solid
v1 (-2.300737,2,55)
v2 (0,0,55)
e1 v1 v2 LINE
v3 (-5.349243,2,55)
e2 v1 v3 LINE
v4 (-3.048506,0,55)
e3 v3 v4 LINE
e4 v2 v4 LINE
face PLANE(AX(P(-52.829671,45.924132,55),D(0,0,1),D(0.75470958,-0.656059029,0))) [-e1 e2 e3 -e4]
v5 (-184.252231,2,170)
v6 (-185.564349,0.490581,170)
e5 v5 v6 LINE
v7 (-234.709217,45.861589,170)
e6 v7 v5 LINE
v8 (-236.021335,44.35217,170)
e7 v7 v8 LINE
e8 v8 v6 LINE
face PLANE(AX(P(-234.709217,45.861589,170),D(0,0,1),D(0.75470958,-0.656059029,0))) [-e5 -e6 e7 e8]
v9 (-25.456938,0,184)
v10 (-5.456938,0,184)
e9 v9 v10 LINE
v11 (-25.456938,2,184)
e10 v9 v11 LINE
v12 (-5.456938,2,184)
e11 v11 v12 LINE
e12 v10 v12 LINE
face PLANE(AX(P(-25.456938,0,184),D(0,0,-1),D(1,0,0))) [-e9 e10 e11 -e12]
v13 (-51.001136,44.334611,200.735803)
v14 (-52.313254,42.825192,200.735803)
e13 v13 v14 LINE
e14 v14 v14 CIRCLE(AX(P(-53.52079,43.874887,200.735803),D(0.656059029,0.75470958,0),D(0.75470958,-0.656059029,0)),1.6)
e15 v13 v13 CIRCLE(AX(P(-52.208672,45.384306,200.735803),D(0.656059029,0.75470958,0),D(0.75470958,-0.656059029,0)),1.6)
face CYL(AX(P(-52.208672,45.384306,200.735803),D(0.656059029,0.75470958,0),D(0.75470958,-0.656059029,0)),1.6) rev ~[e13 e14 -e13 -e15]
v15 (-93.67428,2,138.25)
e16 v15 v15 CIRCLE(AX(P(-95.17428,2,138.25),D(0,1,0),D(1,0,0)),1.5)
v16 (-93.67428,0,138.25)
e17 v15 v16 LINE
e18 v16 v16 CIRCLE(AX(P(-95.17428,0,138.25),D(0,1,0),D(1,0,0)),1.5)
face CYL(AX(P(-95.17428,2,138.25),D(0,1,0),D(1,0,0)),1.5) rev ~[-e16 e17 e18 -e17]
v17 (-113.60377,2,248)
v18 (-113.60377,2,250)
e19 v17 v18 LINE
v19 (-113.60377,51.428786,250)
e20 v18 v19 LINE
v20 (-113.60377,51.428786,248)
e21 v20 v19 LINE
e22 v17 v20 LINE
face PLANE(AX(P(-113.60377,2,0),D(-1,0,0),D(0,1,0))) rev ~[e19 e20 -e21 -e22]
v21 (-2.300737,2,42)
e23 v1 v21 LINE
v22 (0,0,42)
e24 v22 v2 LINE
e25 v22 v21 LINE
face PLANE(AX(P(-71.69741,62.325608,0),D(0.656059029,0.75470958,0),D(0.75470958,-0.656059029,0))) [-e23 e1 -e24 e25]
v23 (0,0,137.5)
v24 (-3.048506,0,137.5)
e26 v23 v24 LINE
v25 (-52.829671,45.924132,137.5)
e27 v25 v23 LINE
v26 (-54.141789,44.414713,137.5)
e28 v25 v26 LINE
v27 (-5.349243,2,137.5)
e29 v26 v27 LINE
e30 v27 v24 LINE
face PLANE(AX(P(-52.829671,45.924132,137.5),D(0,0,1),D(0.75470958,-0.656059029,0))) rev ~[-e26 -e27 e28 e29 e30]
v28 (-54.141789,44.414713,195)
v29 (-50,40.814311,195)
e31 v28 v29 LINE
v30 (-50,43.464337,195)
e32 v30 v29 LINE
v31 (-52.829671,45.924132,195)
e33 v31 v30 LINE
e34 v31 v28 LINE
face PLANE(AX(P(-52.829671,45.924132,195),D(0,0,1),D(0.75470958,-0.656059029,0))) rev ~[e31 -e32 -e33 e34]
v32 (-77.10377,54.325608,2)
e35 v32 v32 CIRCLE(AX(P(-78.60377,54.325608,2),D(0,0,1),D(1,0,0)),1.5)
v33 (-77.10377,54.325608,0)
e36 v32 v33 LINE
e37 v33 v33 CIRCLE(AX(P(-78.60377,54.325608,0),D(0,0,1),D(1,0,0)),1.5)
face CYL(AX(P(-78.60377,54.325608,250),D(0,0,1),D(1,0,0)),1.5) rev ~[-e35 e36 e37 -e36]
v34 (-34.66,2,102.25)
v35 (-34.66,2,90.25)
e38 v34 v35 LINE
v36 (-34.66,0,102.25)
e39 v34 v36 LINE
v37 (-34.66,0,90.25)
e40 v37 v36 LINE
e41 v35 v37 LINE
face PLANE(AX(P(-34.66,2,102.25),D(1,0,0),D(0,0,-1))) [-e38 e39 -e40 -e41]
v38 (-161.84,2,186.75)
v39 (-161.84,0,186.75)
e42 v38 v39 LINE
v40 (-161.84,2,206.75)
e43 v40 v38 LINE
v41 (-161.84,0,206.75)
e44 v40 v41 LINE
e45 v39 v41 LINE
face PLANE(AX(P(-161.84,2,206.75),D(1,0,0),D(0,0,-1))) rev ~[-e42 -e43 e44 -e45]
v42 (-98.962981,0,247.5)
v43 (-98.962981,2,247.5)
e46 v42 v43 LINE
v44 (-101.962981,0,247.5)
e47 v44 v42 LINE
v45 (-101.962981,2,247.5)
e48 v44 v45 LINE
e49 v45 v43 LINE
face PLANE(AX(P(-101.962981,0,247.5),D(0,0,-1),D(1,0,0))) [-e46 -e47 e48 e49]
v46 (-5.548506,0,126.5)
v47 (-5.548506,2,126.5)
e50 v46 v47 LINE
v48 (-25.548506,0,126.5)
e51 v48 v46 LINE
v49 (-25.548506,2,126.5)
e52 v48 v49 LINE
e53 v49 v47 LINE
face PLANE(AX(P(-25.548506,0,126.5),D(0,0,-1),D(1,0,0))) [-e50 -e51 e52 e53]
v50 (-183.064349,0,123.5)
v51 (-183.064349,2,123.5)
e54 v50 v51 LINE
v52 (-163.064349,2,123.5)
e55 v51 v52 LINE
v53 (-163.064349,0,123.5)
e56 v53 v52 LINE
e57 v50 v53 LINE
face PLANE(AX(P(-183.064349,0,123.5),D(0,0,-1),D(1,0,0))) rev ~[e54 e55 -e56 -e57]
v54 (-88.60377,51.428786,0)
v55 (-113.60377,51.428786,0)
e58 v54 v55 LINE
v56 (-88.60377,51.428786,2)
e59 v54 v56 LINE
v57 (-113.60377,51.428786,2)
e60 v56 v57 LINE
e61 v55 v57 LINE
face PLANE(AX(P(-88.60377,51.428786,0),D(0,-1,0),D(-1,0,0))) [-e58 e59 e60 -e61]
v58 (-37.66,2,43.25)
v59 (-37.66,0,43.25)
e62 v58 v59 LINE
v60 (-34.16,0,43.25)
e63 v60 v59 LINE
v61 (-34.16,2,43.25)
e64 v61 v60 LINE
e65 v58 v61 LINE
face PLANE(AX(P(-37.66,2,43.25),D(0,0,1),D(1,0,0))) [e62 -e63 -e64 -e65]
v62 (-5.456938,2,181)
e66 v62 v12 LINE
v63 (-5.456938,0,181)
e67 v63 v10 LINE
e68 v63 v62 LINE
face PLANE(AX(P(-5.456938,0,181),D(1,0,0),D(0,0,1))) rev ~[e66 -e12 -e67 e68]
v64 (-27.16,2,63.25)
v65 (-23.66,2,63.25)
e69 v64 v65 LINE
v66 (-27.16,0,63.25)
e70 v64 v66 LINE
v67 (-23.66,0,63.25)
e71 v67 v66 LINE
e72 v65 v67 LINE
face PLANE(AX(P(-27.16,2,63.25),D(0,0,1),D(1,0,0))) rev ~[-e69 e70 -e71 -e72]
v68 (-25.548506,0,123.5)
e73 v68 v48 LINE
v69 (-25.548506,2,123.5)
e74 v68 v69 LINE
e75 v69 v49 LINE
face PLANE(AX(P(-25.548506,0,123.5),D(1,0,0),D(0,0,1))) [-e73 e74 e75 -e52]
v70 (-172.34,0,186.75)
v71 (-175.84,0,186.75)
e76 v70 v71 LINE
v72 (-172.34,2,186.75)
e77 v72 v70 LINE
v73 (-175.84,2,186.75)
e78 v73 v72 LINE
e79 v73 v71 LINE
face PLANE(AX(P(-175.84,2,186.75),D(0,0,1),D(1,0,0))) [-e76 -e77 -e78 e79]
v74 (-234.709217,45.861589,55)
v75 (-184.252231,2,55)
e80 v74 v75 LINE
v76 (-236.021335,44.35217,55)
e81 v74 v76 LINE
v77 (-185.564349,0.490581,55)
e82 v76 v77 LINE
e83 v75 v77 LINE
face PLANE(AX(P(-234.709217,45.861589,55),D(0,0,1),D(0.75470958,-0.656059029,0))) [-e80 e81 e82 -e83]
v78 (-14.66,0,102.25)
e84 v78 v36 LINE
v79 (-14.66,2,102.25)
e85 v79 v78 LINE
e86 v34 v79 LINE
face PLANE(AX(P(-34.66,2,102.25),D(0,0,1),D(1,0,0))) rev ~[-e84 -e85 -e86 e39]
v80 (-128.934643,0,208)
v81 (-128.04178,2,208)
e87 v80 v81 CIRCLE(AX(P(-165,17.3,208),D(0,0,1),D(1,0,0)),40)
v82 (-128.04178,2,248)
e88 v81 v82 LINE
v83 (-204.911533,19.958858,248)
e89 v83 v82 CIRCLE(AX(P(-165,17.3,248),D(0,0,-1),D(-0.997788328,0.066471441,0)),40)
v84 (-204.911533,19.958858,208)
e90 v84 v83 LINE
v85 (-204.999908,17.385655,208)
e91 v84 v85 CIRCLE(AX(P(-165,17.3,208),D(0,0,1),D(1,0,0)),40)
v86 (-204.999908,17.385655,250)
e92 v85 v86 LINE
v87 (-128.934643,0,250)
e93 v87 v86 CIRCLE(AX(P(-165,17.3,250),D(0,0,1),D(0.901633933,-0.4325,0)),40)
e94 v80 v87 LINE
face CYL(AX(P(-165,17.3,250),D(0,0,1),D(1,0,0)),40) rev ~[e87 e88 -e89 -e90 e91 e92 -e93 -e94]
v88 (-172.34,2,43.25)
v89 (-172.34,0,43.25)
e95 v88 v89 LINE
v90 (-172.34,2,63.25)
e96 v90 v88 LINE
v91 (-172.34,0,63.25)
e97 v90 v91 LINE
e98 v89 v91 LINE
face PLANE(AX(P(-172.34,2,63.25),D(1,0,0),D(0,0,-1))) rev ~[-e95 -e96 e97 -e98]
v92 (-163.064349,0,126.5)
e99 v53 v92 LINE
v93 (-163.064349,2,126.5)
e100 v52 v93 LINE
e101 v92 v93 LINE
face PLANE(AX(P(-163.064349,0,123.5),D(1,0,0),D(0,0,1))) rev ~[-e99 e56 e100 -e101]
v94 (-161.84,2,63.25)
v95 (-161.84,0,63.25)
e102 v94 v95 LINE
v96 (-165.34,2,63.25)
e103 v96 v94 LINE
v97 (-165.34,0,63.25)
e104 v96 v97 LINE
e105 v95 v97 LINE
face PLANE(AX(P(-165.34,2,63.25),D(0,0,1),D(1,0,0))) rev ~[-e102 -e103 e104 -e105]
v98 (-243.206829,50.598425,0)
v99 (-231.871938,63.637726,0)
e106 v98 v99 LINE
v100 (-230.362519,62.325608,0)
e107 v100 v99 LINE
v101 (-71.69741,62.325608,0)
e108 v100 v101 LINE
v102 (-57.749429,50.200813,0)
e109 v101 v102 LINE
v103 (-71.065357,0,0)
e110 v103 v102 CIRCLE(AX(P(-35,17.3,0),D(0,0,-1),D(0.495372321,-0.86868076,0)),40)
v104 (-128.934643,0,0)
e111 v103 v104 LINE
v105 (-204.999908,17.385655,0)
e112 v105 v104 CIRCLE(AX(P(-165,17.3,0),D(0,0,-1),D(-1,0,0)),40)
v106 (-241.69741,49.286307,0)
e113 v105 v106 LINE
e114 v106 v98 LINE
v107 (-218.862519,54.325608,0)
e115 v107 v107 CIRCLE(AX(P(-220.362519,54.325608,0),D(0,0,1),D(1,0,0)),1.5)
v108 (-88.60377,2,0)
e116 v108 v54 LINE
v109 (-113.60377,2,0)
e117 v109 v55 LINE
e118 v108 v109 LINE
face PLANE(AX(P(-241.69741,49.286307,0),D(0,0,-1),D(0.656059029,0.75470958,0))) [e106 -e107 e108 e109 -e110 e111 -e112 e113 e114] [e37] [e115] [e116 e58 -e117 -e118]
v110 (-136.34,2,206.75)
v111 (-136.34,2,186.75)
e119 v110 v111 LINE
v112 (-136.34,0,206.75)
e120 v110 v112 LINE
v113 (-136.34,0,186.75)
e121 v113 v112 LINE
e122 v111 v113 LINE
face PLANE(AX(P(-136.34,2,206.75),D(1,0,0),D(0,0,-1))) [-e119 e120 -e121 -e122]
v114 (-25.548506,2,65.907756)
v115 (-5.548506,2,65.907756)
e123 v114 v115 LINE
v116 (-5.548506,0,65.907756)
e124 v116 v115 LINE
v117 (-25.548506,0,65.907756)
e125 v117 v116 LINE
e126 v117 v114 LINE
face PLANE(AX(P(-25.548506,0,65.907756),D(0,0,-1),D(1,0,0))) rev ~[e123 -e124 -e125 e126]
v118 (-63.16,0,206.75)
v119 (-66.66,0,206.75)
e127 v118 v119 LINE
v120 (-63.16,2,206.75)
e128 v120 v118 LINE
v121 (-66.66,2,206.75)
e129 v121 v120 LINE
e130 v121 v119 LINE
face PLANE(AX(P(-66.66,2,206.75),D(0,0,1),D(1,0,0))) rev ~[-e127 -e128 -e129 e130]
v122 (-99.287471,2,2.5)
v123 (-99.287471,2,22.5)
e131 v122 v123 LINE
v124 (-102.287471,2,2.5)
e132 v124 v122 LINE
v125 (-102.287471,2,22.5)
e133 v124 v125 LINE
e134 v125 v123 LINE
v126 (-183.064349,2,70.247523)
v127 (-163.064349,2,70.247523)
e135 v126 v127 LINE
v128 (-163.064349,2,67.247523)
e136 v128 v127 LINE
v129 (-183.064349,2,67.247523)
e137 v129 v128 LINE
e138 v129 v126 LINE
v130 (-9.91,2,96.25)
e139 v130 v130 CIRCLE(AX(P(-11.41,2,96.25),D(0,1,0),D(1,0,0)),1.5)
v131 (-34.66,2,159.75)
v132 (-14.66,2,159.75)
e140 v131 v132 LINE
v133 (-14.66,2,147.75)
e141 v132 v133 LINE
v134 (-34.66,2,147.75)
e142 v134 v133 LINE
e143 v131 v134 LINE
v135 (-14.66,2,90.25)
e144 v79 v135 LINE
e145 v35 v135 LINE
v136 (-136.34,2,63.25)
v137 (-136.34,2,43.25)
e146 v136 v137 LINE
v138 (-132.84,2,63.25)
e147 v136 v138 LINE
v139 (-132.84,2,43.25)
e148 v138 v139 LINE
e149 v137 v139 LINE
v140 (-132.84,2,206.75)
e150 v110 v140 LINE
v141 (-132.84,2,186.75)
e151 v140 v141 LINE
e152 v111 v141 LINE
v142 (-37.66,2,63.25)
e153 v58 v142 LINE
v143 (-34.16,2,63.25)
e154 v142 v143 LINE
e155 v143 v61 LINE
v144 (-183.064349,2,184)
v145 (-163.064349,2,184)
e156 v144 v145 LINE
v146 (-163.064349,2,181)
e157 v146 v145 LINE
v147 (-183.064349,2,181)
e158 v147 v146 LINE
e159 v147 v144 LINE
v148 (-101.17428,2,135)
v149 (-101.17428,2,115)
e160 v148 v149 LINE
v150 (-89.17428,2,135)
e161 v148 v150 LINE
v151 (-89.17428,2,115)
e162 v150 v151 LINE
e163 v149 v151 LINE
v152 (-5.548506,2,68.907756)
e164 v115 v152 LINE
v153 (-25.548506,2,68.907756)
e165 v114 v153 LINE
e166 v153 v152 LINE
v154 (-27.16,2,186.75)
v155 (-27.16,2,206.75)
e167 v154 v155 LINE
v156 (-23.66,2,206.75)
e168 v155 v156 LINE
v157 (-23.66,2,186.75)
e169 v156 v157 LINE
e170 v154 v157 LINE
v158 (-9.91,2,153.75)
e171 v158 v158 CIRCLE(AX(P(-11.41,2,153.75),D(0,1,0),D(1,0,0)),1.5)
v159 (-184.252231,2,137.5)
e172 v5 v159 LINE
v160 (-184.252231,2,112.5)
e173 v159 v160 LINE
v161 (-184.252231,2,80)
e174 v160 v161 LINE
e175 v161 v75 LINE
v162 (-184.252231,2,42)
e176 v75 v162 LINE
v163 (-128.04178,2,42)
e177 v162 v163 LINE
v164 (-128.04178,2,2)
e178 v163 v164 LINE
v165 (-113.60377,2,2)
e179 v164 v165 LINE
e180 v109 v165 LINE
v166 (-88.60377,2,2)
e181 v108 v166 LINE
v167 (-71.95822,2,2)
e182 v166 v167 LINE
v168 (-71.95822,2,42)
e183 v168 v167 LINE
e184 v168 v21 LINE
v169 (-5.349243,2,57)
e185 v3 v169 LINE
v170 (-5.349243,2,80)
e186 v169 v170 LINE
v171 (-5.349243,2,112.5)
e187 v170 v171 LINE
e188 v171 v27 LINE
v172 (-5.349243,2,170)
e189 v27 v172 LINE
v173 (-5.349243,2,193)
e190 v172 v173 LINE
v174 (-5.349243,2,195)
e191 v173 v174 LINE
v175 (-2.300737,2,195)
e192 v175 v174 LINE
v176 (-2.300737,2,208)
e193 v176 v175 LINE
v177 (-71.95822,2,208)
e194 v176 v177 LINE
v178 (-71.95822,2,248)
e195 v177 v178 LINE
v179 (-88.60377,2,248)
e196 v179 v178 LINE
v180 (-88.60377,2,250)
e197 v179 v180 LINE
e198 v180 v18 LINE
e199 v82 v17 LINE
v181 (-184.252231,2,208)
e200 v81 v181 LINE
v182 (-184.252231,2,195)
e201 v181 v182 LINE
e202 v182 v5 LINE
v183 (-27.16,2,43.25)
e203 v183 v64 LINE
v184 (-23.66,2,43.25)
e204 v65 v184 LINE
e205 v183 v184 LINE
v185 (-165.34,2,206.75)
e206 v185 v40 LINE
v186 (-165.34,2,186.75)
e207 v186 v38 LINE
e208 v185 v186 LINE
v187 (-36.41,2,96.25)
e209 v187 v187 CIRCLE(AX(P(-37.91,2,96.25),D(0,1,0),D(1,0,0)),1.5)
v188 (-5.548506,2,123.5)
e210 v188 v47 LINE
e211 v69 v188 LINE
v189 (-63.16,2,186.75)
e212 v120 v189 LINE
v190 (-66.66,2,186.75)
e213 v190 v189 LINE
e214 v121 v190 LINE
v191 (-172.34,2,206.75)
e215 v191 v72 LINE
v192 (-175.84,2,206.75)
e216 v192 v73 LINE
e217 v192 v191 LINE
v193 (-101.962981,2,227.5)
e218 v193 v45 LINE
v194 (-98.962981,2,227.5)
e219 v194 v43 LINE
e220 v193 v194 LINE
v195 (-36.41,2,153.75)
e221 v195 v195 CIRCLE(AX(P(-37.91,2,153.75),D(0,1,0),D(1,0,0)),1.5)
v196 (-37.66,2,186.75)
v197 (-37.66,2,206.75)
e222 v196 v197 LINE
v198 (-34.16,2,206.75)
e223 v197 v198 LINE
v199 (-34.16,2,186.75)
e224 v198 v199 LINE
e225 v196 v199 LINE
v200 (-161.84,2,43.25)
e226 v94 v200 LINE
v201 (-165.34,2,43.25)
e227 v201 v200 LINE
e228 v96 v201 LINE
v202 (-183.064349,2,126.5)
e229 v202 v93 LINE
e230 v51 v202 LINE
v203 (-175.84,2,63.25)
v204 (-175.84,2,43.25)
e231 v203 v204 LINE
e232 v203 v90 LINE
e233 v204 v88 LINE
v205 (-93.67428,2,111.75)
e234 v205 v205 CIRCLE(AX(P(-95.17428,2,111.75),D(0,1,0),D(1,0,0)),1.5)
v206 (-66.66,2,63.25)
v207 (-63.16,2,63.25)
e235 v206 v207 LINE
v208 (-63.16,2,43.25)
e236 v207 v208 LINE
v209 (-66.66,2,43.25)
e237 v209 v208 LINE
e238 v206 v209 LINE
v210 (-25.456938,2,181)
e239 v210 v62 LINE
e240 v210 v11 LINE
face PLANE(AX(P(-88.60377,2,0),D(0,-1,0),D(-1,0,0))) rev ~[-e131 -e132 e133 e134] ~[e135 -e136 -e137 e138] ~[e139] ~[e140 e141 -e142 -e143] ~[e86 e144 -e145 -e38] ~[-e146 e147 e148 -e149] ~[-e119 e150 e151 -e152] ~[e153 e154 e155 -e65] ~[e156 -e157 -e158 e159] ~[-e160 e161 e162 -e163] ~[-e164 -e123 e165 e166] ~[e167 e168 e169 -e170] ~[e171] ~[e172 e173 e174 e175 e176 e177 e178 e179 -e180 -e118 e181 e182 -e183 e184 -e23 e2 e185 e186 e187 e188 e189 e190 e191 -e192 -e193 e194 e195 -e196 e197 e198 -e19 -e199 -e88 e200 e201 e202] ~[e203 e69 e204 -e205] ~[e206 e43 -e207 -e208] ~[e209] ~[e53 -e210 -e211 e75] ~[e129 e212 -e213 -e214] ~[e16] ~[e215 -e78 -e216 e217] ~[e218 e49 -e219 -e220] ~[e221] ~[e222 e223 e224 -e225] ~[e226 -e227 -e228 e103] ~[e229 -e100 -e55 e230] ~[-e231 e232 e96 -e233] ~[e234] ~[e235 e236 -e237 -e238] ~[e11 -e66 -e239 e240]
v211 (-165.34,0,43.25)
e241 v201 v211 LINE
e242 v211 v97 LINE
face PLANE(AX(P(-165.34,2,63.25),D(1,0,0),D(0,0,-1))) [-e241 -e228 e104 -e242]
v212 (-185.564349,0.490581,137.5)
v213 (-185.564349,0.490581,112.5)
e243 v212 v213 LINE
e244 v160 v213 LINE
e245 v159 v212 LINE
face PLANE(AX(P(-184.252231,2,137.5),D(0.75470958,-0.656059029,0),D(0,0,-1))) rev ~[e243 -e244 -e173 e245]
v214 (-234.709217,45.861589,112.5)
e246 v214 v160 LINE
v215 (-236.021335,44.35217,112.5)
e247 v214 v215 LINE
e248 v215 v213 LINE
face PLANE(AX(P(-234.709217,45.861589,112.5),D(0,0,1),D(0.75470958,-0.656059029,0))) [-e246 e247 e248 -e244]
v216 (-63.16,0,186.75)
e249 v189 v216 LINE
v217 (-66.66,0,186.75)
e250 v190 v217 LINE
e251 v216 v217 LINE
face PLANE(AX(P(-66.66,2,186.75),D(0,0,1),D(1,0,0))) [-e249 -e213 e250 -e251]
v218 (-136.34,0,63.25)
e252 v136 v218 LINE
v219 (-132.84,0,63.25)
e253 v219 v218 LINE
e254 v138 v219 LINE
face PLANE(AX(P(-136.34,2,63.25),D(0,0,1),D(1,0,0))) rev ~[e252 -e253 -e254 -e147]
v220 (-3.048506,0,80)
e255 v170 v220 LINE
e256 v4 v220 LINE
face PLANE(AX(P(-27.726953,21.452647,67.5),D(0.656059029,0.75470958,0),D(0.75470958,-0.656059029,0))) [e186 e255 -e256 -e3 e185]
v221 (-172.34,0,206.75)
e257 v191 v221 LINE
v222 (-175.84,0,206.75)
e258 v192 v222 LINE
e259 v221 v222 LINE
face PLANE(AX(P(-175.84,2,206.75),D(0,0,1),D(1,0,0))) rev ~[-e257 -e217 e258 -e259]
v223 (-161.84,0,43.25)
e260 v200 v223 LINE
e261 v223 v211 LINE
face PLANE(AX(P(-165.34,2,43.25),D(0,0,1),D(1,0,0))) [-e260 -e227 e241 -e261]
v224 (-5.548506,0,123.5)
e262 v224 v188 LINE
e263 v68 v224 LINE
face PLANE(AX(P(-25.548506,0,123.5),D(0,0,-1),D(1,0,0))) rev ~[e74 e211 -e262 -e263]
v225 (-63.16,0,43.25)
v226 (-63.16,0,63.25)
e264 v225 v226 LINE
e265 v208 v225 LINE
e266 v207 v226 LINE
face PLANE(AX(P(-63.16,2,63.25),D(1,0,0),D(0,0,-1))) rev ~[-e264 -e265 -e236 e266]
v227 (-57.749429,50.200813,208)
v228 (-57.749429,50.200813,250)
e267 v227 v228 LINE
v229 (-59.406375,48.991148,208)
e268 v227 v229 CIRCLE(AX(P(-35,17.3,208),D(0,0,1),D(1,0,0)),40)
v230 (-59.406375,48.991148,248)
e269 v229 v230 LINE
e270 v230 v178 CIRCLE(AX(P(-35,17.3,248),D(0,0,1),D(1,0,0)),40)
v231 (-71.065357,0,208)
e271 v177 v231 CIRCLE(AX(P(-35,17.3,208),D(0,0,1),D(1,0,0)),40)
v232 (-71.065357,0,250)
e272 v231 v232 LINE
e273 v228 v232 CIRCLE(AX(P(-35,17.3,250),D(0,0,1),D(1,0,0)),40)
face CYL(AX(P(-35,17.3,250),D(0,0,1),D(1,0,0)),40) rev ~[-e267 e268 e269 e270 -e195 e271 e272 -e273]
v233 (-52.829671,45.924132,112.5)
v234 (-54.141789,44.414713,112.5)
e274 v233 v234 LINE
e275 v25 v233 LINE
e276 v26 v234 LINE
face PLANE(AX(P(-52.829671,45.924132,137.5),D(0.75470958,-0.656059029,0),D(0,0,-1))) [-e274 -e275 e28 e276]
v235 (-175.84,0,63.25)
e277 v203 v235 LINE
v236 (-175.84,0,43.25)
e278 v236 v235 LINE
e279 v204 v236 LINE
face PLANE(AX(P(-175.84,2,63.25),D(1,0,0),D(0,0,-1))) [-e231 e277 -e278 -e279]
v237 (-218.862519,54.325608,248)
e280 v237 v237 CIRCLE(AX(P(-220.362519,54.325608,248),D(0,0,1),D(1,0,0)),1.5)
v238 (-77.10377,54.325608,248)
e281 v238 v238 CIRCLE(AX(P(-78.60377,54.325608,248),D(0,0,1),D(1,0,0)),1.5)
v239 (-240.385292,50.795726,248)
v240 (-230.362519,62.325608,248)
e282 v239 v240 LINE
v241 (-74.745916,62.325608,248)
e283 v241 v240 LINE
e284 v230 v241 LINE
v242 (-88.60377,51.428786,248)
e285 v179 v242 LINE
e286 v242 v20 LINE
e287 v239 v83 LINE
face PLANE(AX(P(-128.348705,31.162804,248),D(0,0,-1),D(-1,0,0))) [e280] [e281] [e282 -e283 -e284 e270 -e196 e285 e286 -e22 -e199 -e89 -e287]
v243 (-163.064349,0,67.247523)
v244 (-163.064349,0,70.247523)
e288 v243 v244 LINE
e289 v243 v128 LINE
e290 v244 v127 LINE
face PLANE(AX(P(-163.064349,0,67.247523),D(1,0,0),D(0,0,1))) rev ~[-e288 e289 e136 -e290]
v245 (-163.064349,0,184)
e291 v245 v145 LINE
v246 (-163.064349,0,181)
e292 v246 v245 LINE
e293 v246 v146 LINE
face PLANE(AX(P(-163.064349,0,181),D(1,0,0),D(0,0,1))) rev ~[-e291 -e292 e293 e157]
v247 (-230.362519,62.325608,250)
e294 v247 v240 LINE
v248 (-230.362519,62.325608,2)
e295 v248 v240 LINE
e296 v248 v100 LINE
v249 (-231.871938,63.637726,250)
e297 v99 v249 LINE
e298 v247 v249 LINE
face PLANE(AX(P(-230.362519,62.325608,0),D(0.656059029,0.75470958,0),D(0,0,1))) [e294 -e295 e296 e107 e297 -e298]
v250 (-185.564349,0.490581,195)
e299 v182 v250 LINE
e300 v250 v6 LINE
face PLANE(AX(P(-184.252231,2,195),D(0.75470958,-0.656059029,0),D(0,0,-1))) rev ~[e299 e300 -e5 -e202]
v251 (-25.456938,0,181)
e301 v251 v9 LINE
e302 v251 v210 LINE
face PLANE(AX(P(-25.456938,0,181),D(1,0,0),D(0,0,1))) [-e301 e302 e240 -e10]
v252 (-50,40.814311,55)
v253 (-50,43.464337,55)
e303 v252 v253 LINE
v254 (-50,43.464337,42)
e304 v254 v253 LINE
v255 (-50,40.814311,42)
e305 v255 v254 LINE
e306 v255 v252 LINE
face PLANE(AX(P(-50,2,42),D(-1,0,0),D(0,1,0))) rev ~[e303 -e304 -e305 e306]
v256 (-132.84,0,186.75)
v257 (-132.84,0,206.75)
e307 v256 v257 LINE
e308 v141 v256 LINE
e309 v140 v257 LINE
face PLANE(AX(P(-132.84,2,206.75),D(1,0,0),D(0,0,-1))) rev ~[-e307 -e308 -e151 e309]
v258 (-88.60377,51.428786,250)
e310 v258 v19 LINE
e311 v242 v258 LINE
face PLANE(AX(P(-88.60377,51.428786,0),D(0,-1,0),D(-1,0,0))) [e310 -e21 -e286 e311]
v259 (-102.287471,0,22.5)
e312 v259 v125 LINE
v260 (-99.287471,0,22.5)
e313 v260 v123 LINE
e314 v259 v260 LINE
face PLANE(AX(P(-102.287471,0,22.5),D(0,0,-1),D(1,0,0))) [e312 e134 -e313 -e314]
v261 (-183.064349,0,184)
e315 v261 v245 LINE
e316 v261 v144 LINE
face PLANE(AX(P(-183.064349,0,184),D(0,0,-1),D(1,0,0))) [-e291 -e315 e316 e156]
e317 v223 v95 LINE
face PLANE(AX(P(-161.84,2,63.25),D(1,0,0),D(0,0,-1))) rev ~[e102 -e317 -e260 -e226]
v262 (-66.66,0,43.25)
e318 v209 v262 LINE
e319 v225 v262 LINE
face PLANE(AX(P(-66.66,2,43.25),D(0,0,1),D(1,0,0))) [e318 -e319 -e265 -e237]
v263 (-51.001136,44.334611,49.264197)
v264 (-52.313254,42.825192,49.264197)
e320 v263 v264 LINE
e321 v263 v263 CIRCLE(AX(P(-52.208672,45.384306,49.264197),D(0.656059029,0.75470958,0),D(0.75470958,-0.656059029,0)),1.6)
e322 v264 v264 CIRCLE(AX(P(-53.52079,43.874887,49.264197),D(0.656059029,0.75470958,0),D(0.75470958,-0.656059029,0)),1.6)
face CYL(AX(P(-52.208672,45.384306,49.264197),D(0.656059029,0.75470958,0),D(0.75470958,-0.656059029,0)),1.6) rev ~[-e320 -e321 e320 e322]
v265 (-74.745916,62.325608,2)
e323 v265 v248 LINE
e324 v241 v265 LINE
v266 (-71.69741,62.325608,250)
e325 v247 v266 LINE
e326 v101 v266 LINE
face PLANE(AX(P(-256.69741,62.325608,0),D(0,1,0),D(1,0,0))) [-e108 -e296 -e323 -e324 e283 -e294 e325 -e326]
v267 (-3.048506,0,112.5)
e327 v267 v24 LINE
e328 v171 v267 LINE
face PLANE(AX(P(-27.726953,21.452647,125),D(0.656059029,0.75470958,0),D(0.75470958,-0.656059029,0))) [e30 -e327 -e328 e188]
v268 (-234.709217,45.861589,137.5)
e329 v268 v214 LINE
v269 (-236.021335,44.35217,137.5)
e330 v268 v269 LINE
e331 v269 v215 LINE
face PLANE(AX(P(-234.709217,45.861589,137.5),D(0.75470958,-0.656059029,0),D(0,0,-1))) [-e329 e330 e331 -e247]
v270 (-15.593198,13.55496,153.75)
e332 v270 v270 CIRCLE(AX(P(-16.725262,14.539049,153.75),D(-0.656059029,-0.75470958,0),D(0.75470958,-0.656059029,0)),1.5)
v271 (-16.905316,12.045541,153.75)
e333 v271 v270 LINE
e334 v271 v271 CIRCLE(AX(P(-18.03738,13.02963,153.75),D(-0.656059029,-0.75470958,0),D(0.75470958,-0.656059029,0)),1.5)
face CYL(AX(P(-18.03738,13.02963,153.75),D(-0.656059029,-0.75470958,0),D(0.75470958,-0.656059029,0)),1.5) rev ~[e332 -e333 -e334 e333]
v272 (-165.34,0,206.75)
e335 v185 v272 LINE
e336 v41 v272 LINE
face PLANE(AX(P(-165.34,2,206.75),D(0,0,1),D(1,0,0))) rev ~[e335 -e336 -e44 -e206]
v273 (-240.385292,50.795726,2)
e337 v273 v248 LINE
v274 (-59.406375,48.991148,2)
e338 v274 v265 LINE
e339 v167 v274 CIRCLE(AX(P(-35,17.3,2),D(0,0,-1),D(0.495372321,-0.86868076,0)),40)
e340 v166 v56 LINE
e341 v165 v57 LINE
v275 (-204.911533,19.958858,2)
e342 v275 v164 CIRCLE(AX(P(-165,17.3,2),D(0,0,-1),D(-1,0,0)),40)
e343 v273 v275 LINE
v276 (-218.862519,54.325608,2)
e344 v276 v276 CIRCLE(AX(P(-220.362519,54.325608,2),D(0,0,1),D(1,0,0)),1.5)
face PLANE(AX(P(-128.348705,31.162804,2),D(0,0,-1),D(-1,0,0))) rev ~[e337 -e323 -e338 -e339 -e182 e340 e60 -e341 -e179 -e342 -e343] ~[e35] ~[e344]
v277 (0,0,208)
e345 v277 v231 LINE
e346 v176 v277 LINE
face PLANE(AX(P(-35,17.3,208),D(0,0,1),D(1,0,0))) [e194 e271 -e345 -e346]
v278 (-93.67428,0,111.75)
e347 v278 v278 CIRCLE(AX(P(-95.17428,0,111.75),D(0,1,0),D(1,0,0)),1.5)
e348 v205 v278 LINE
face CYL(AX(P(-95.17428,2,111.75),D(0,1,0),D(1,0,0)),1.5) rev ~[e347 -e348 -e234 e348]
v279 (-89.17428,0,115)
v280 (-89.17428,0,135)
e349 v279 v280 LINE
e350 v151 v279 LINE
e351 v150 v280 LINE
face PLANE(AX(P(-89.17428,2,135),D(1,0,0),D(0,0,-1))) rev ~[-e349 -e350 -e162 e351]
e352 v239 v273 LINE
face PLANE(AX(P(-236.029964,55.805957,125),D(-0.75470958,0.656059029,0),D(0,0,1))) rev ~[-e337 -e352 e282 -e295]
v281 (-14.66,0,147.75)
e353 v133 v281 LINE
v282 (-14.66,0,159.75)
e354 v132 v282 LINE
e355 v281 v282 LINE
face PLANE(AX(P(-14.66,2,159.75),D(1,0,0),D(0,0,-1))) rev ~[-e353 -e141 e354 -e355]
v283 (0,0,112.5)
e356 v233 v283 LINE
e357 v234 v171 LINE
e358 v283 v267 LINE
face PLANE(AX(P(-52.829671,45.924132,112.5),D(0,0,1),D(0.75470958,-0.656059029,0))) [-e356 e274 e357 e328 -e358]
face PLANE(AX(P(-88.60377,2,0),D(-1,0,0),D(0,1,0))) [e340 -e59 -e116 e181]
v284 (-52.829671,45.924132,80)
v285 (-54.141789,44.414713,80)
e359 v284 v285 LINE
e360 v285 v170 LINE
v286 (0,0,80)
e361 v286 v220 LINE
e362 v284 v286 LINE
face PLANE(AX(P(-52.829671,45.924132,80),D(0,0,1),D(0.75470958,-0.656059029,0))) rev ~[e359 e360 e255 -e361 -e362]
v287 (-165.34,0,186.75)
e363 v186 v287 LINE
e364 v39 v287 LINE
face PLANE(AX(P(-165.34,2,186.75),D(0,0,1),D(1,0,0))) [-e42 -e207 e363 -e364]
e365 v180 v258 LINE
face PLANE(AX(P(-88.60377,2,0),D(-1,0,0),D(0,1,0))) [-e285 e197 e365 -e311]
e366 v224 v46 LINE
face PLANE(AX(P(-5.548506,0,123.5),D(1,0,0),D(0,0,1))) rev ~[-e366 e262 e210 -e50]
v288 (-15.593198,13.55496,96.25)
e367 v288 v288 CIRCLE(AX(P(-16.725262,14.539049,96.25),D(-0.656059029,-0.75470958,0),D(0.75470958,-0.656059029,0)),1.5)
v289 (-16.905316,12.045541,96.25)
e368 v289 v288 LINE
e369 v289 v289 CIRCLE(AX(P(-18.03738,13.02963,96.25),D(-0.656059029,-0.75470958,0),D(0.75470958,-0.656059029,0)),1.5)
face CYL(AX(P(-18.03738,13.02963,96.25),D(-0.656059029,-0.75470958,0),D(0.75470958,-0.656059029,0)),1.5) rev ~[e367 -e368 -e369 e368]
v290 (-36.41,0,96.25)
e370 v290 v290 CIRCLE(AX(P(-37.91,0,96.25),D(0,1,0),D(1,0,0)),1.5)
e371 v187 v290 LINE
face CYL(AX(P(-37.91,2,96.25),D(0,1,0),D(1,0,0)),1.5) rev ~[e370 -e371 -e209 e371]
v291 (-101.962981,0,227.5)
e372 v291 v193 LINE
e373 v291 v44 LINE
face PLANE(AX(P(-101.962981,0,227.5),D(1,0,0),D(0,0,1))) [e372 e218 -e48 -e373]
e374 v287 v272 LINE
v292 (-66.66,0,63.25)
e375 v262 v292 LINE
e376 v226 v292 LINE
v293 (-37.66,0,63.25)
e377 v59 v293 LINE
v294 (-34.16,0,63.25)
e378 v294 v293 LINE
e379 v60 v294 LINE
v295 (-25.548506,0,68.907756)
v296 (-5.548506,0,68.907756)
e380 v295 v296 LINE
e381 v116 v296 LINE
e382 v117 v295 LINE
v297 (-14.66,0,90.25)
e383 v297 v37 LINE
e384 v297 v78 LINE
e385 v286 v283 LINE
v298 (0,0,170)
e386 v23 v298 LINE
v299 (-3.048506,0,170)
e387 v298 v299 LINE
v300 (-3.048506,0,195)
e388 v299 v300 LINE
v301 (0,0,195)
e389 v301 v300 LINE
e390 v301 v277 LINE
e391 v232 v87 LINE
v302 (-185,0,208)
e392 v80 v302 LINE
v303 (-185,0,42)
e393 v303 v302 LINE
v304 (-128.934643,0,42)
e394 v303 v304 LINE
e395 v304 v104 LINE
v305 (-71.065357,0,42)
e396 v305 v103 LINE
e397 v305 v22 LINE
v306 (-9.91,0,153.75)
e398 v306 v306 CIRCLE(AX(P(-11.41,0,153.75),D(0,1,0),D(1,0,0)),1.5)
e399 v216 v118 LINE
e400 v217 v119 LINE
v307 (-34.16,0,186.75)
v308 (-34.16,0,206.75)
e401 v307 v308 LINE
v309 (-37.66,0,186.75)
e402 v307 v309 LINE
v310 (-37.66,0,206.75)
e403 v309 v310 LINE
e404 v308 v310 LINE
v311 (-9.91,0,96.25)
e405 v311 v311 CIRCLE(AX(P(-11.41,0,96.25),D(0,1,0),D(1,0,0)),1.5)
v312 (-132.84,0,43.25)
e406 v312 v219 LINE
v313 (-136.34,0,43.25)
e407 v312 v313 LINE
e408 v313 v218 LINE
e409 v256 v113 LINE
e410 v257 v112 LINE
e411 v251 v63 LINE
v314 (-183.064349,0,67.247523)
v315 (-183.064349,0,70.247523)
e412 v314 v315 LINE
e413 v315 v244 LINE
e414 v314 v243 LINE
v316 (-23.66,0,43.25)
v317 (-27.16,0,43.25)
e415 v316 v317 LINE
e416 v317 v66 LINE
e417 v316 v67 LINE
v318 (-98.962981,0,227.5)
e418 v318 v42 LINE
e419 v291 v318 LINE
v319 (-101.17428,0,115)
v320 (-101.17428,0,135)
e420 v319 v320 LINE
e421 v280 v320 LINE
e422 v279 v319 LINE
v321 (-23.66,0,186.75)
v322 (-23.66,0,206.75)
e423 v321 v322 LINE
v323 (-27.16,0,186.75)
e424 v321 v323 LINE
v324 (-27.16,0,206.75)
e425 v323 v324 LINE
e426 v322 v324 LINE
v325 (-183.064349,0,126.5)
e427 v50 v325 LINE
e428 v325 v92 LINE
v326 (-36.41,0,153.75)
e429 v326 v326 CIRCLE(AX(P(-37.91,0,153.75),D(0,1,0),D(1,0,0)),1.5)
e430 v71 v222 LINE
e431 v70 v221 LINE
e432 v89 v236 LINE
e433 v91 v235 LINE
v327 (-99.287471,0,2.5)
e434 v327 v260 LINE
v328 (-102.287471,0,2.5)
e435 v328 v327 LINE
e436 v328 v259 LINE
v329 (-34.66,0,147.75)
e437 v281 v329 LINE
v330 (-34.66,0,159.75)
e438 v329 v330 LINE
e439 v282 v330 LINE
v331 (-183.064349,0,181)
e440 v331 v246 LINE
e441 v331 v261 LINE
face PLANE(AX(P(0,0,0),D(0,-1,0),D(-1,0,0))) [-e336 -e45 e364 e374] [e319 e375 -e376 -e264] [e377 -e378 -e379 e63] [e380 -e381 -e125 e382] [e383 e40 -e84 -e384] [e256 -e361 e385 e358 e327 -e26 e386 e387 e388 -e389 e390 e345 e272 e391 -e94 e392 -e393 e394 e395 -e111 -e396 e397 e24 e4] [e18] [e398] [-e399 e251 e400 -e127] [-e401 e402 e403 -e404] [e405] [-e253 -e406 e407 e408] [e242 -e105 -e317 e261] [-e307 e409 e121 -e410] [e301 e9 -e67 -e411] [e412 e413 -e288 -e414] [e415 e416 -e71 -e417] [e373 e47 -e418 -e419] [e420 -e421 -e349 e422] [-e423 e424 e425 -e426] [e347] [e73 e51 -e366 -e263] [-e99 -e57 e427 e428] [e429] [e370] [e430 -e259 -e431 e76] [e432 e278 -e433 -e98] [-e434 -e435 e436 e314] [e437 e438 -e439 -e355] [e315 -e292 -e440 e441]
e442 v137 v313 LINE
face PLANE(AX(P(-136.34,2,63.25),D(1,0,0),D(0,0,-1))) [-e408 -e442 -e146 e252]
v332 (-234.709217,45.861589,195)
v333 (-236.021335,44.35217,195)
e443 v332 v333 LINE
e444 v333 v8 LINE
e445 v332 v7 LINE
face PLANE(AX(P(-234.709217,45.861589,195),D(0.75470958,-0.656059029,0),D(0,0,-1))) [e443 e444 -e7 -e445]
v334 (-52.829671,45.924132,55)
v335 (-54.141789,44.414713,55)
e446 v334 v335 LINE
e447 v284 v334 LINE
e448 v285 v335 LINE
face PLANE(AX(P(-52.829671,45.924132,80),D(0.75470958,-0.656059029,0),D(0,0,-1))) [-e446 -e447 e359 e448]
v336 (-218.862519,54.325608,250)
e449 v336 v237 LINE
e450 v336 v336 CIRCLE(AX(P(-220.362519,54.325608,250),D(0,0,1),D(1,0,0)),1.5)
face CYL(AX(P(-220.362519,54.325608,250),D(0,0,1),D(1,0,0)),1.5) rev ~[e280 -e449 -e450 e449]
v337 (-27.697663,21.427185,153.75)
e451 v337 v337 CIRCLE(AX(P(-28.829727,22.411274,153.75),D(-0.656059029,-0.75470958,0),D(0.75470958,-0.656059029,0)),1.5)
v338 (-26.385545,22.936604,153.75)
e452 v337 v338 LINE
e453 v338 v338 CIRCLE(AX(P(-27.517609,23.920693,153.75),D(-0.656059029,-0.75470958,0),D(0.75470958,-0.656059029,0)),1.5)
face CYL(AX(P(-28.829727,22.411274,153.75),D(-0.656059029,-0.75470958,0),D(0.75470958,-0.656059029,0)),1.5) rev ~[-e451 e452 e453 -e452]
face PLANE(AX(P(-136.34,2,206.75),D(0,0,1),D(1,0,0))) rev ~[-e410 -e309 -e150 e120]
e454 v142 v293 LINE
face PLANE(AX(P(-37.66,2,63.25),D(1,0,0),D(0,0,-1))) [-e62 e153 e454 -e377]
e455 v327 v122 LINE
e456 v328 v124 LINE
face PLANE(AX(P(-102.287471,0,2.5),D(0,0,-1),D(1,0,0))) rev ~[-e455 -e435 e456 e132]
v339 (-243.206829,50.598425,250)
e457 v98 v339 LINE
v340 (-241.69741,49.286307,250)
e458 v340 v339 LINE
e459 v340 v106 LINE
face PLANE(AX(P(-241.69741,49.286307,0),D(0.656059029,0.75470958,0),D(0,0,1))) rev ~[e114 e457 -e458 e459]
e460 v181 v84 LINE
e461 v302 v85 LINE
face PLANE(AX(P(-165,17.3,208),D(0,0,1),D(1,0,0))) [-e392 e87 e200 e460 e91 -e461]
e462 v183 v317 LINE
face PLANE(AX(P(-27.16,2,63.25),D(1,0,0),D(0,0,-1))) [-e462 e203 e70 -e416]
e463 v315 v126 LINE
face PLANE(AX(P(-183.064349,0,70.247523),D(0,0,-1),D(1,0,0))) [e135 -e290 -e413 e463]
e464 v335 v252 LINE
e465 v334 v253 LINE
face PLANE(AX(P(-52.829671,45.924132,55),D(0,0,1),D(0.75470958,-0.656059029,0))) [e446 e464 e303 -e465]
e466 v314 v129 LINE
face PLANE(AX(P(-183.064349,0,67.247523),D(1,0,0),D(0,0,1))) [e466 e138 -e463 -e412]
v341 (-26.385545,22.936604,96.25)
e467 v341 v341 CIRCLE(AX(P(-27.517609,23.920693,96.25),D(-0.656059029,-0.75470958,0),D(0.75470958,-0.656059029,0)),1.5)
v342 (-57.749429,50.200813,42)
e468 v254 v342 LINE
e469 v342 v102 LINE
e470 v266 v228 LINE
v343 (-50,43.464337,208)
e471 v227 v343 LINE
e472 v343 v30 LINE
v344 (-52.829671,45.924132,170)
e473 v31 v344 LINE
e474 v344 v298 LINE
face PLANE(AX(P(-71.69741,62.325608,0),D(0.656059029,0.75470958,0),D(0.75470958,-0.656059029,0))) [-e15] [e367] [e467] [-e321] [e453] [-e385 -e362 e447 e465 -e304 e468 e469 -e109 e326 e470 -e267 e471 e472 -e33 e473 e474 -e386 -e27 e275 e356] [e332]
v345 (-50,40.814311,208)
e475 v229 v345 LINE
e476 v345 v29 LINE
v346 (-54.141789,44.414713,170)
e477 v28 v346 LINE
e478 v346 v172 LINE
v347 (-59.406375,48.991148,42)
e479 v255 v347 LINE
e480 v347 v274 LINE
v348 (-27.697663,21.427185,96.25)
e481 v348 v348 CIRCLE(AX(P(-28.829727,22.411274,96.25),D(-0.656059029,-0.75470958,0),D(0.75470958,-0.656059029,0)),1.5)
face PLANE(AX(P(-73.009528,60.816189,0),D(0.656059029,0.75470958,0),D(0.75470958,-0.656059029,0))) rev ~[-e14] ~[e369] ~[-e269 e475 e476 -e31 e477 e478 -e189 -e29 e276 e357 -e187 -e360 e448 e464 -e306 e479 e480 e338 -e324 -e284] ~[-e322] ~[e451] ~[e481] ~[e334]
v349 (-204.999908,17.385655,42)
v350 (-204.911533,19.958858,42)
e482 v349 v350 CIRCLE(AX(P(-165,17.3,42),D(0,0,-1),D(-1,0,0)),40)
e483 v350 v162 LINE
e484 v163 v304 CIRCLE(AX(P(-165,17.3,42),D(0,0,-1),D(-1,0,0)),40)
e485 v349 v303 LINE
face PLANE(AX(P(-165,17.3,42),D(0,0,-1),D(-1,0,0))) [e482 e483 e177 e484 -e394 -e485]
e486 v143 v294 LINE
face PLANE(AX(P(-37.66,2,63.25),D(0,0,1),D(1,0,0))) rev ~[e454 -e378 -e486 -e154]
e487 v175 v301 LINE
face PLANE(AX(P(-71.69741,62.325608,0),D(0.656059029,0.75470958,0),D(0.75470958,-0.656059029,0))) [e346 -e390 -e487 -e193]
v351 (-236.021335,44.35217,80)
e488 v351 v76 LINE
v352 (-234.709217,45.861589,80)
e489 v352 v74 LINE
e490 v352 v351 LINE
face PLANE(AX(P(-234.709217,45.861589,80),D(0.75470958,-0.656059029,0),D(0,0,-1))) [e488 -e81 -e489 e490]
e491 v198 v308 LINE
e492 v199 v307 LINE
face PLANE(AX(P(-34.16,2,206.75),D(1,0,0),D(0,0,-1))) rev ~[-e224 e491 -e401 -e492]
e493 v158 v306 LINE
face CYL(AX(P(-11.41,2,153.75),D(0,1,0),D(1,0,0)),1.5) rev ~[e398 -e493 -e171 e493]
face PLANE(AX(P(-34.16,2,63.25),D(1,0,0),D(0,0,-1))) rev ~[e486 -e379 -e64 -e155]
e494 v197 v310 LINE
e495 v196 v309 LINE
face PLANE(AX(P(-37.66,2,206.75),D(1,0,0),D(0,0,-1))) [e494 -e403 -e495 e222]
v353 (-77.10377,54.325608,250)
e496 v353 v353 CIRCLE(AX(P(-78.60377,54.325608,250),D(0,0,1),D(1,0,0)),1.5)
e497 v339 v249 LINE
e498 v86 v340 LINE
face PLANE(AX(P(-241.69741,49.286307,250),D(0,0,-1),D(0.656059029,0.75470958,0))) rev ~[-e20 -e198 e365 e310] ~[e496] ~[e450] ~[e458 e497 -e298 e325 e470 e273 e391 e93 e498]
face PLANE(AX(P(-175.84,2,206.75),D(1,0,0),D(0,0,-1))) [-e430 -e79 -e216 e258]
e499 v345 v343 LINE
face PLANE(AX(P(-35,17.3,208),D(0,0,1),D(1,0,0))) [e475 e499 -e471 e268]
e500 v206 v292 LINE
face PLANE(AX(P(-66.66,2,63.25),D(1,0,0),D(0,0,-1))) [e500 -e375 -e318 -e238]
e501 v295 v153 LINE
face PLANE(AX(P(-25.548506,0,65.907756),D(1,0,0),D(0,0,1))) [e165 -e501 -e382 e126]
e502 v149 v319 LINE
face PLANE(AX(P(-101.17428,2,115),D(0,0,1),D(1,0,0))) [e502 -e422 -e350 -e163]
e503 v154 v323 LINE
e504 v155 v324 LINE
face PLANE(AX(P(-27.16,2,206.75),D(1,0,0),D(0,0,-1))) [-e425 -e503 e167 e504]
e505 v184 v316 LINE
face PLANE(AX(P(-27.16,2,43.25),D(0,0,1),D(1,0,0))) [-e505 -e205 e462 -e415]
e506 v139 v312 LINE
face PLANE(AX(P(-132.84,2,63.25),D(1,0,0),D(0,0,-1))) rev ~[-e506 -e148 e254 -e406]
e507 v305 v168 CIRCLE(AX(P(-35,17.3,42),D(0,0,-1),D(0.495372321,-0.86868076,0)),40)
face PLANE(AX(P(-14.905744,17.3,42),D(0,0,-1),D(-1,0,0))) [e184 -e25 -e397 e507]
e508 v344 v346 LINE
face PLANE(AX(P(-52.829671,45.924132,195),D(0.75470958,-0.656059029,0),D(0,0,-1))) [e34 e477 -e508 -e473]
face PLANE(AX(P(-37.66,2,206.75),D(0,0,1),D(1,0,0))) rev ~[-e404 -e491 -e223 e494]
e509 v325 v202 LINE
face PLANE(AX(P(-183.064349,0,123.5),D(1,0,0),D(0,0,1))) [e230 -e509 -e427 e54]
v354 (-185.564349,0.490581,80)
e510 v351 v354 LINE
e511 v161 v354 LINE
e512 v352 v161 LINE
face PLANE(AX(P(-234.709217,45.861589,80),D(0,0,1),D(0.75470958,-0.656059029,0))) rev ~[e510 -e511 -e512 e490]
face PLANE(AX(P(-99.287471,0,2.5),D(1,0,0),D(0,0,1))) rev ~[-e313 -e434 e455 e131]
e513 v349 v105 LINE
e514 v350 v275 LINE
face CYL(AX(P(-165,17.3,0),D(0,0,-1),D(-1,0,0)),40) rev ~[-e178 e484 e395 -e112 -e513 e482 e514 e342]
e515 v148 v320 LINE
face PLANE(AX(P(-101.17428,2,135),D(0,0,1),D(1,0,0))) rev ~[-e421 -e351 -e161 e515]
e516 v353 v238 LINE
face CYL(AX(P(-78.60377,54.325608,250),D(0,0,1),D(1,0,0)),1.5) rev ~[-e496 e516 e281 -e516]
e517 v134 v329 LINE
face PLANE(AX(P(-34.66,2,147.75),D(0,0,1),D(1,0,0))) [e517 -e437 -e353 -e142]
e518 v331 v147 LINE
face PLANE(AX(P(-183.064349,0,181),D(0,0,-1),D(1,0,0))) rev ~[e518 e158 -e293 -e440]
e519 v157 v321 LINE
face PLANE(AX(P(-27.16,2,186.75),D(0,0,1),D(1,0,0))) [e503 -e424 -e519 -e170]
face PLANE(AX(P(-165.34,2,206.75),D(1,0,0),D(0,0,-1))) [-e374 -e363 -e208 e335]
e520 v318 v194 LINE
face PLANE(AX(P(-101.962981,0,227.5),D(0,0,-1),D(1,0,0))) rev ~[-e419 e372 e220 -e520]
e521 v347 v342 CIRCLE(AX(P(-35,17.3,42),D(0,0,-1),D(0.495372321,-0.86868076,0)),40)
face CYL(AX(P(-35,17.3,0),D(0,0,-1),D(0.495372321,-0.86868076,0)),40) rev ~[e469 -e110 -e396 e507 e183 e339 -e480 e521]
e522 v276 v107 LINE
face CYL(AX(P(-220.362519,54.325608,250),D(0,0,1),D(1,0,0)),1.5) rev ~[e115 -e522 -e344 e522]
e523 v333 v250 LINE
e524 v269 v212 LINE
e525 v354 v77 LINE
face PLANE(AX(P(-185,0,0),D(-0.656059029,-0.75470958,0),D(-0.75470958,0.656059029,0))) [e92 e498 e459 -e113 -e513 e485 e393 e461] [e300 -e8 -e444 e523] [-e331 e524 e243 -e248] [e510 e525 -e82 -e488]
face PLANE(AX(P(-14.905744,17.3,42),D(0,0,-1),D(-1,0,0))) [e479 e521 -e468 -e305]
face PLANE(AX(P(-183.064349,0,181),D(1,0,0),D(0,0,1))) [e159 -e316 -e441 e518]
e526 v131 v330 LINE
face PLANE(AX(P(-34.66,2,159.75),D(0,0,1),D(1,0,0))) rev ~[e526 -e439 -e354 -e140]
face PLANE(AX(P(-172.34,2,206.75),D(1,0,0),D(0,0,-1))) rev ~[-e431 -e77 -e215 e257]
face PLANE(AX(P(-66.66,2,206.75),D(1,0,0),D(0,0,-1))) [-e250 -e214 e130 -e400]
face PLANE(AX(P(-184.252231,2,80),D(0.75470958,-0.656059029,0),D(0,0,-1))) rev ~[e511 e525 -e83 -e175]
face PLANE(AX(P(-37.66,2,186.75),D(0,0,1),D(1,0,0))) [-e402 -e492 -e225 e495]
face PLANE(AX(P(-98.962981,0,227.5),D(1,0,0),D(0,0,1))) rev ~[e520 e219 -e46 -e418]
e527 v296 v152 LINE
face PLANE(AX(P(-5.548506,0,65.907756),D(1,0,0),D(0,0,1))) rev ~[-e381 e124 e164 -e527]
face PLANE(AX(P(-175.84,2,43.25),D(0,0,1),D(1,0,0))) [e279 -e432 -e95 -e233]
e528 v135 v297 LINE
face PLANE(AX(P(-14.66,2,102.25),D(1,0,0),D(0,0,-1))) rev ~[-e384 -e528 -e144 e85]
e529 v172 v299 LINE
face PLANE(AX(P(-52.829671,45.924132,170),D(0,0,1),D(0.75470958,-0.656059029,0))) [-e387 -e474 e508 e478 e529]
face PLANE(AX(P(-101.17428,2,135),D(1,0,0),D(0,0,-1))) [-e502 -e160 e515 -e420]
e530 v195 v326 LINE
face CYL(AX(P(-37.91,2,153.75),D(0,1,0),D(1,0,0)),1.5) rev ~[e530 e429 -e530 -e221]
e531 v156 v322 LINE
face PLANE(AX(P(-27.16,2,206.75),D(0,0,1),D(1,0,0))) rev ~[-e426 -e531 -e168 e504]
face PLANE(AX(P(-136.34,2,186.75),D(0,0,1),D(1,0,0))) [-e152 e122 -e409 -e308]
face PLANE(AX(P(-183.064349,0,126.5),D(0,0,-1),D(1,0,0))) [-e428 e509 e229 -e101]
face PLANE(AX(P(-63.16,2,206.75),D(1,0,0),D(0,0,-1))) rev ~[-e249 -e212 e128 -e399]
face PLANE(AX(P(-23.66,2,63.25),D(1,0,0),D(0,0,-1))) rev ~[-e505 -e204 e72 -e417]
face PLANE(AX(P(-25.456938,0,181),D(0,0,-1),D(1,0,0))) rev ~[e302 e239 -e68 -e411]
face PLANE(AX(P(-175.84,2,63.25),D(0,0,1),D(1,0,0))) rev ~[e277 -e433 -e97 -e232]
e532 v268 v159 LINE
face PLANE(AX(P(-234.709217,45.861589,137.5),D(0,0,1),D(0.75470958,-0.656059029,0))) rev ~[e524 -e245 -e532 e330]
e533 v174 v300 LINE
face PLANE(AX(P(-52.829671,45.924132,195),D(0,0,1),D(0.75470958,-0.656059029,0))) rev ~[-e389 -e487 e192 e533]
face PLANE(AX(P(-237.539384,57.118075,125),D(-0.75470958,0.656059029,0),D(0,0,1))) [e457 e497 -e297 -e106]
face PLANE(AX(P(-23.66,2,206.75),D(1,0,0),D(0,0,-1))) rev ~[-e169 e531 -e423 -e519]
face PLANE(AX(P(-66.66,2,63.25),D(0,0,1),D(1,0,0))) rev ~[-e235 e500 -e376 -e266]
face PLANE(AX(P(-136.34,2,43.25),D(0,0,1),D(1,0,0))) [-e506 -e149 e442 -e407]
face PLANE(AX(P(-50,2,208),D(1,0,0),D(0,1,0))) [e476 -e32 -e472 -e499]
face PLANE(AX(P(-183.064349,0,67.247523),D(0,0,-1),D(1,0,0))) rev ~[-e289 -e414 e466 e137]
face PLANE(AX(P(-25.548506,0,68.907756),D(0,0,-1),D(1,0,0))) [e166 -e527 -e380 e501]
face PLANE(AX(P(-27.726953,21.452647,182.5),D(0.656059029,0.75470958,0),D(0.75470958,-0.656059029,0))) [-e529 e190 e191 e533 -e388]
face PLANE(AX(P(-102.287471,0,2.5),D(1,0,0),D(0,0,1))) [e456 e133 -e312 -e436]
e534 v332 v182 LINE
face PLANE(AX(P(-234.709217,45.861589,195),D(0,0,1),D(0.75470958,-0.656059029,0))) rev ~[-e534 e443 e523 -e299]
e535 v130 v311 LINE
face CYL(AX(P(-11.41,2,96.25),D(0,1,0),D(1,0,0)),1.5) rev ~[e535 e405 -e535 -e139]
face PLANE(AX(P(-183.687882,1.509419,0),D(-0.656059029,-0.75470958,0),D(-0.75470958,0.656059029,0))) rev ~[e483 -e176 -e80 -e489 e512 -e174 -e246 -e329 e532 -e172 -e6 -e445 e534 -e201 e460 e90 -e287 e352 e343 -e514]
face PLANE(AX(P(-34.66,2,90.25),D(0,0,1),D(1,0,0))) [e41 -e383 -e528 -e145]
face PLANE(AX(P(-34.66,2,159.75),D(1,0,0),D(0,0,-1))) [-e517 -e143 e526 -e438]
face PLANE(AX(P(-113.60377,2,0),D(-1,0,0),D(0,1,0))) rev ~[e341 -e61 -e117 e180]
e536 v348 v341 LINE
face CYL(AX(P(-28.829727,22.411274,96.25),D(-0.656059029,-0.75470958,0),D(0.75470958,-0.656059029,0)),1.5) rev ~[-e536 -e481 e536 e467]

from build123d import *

# Parameters (mm, degrees)
EXTRUDE_1_DEPTH           = 250
SHELL_1_T                 = -2
SKETCH_4_R                = 40
CUT_EXTRUDE_3_DEPTH       = 42
SKETCH_6_R                = 40
CUT_EXTRUDE_5_DEPTH       = 42
SKETCH_7_R                = 1.5
SKETCH_7_W                = 3.5
SKETCH_7_H                = 20
SKETCH_7_W_2              = 12
SKETCH_7_W_3              = 20
SKETCH_7_H_2              = 12
CUT_EXTRUDE_6_DEPTH       = 32
SKETCH_8_W                = 50
SKETCH_8_H                = 50
CUT_EXTRUDE_7_DEPTH       = 15
SKETCH_9_W                = 50
SKETCH_9_H                = 48
CUT_EXTRUDE_8_DEPTH       = 15
SKETCH_10_W               = 70
SKETCH_10_H               = 25
CUT_EXTRUDE_9_DEPTH       = 2
SKETCH_13_W               = 25
SKETCH_13_H               = 49.428785774
CUT_EXTRUDE_10_DEPTH      = 304
SKETCH_14_W               = 66.85616243
SKETCH_14_H               = 25
CUT_EXTRUDE_11_DEPTH      = 2
SKETCH_15_W               = 3
SKETCH_15_H               = 20
SKETCH_15_W_2             = 20
SKETCH_15_H_2             = 3
CUT_EXTRUDE_12_DEPTH      = 2
SKETCH_16_R               = 1.5
CUT_EXTRUDE_13_DEPTH      = 90
SKETCH_18_R               = 1.6
CUT_EXTRUDE_14_DEPTH      = 5
CUT_EXTRUDE_15_DEPTH      = 264
SKETCH_20_W               = 250
SKETCH_20_H               = 17.277243338
EXTRUDE_2_DEPTH           = 2
SKETCH_21_R               = 1.5
CUT_EXTRUDE_17_DEPTH      = 1
CUT_EXTRUDE_17_DEPTH_BACK = 251


with BuildPart() as part:
    # 草图1 → 凸台-拉伸1 (new body)
    with BuildSketch(Plane.XY):
        Polygon((0, 0), (-185, 0), (-256.697410121, 62.325607754), (-71.697410121, 62.325607754), align=None)
    extrude(amount=EXTRUDE_1_DEPTH)

    # 抽壳1
    shell_1_openings = [part.faces().sort_by_distance(p)[0] for p in [
        (-164.197410121, 62.325607754, 125),
    ]]
    offset(amount=SHELL_1_T, openings=shell_1_openings, kind=Kind.INTERSECTION)

    # 草图4 → 切除-拉伸3 (cut)
    with BuildSketch(Plane.XY.offset(250)):
        with Locations((-35, 17.3)):
            Circle(SKETCH_4_R)
        with Locations((-165, 17.3)):
            Circle(SKETCH_4_R)
    extrude(amount=-CUT_EXTRUDE_3_DEPTH, mode=Mode.SUBTRACT)

    # 草图6 → 切除-拉伸5 (cut)
    with BuildSketch(Plane(origin=(0, 0, 0), x_dir=(-1, 0, 0), z_dir=(0, 0, -1))):
        with Locations((165, 17.3)):
            Circle(SKETCH_6_R)
        with BuildLine():
            ThreePointArc((15.18510716, -17.447230418), (75, 17.3), (15.18510716, 52.047230418))
            ThreePointArc((15.18510716, 52.047230418), (-45.184680822, 17.3), (15.18510716, -17.447230418))
        make_face()
    extrude(amount=-CUT_EXTRUDE_5_DEPTH, mode=Mode.SUBTRACT)

    # 草图7 → 切除-拉伸6 (cut)
    with BuildSketch(Plane(origin=(0, 2, 0), x_dir=(1, 0, 0), z_dir=(0, 1, 0))):
        with Locations((-95.174280419, -111.75)):
            Circle(SKETCH_7_R)
        with Locations((-95.174280419, -138.25)):
            Circle(SKETCH_7_R)
        with Locations((-11.41, -96.25)):
            Circle(SKETCH_7_R)
        with Locations((-37.91, -96.25)):
            Circle(SKETCH_7_R)
        with Locations((-37.91, -153.75)):
            Circle(SKETCH_7_R)
        with Locations((-11.41, -153.75)):
            Circle(SKETCH_7_R)
        with Locations((-174.09, -196.75)):
            Rectangle(SKETCH_7_W, SKETCH_7_H)
        with Locations((-25.41, -196.75)):
            Rectangle(SKETCH_7_W, SKETCH_7_H)
        with Locations((-163.59, -196.75)):
            Rectangle(SKETCH_7_W, SKETCH_7_H)
        with Locations((-134.59, -196.75)):
            Rectangle(SKETCH_7_W, SKETCH_7_H)
        with Locations((-35.91, -196.75)):
            Rectangle(SKETCH_7_W, SKETCH_7_H)
        with Locations((-64.91, -196.75)):
            Rectangle(SKETCH_7_W, SKETCH_7_H)
        with Locations((-134.59, -53.25)):
            Rectangle(SKETCH_7_W, SKETCH_7_H)
        with Locations((-163.59, -53.25)):
            Rectangle(SKETCH_7_W, SKETCH_7_H)
        with Locations((-174.09, -53.25)):
            Rectangle(SKETCH_7_W, SKETCH_7_H)
        with Locations((-64.91, -53.25)):
            Rectangle(SKETCH_7_W, SKETCH_7_H)
        with Locations((-35.91, -53.25)):
            Rectangle(SKETCH_7_W, SKETCH_7_H)
        with Locations((-25.41, -53.25)):
            Rectangle(SKETCH_7_W, SKETCH_7_H)
        with Locations((-95.174280419, -125)):
            Rectangle(SKETCH_7_W_2, SKETCH_7_H)
        with Locations((-24.66, -96.25)):
            Rectangle(SKETCH_7_W_3, SKETCH_7_H_2)
        with Locations((-24.66, -153.75)):
            Rectangle(SKETCH_7_W_3, SKETCH_7_H_2)
    extrude(amount=-CUT_EXTRUDE_6_DEPTH, mode=Mode.SUBTRACT)

    # 草图8 → 切除-拉伸7 (cut)
    with BuildSketch(Plane.XY.offset(208)):
        with Locations((-25, 27)):
            Rectangle(SKETCH_8_W, SKETCH_8_H)
    extrude(amount=-CUT_EXTRUDE_7_DEPTH, mode=Mode.SUBTRACT)

    # 草图9 → 切除-拉伸8 (cut)
    with BuildSketch(Plane(origin=(0, 0, 42), x_dir=(-1, 0, 0), z_dir=(0, 0, -1))):
        with Locations((25, 26)):
            Rectangle(SKETCH_9_W, SKETCH_9_H)
    extrude(amount=-CUT_EXTRUDE_8_DEPTH, mode=Mode.SUBTRACT)

    # 草图10 → 切除-拉伸9 (cut)
    with BuildSketch(Plane(origin=(0, 0, 0), x_dir=(0.75470958, -0.656059029, 0), z_dir=(0.656059029, 0.75470958, 0))):
        with Locations((-35, -182.5)):
            Rectangle(SKETCH_10_W, SKETCH_10_H)
        with Locations((-35, -67.5)):
            Rectangle(SKETCH_10_W, SKETCH_10_H)
        with Locations((-35, -125)):
            Rectangle(SKETCH_10_W, SKETCH_10_H)
    extrude(amount=-CUT_EXTRUDE_9_DEPTH, mode=Mode.SUBTRACT)

    # 草图13 → 切除-拉伸10 (cut)
    with BuildSketch(Plane(origin=(0, 0, 0), x_dir=(-1, 0, 0), z_dir=(0, 0, -1))):
        with Locations((101.10376969, 26.714392887)):
            Rectangle(SKETCH_13_W, SKETCH_13_H)
    extrude(amount=-CUT_EXTRUDE_10_DEPTH, mode=Mode.SUBTRACT)

    # 草图14 → 切除-拉伸11 (cut)
    with BuildSketch(Plane(origin=(-78.314370103, -90.090377198, 0), x_dir=(0.75470958, -0.656059029, 0), z_dir=(0.656059029, 0.75470958, 0))):
        with Locations((-173.797122915, -67.5)):
            Rectangle(SKETCH_14_W, SKETCH_14_H)
        with Locations((-173.797122915, -125)):
            Rectangle(SKETCH_14_W, SKETCH_14_H)
        with Locations((-173.797122915, -182.5)):
            Rectangle(SKETCH_14_W, SKETCH_14_H)
    extrude(amount=-CUT_EXTRUDE_11_DEPTH, mode=Mode.SUBTRACT)

    # 草图15 → 切除-拉伸12 (cut)
    with BuildSketch(Plane.XZ):
        with Locations((-100.462980788, 237.5)):
            Rectangle(SKETCH_15_W, SKETCH_15_H)
        with Locations((-15.456937779, 182.5)):
            Rectangle(SKETCH_15_W_2, SKETCH_15_H_2)
        with Locations((-15.548506173, 125)):
            Rectangle(SKETCH_15_W_2, SKETCH_15_H_2)
        with Locations((-15.548506173, 67.407755874)):
            Rectangle(SKETCH_15_W_2, SKETCH_15_H_2)
        with Locations((-100.787471441, 12.5)):
            Rectangle(SKETCH_15_W, SKETCH_15_H)
        with Locations((-173.064348699, 68.747523441)):
            Rectangle(SKETCH_15_W_2, SKETCH_15_H_2)
        with Locations((-173.064348699, 125)):
            Rectangle(SKETCH_15_W_2, SKETCH_15_H_2)
        with Locations((-173.064348699, 182.5)):
            Rectangle(SKETCH_15_W_2, SKETCH_15_H_2)
    extrude(amount=-CUT_EXTRUDE_12_DEPTH, mode=Mode.SUBTRACT)

    # 草图16 → 切除-拉伸13 (cut)
    with BuildSketch(Plane(origin=(-1.312118058, -1.50941916, 0), x_dir=(0.75470958, -0.656059029, 0), z_dir=(-0.656059029, -0.75470958, 0))):
        with Locations((-22.161189798, 96.25)):
            Circle(SKETCH_16_R)
        with Locations((-36.461189798, 96.25)):
            Circle(SKETCH_16_R)
        with Locations((-22.161189798, 153.75)):
            Circle(SKETCH_16_R)
        with Locations((-36.461189798, 153.75)):
            Circle(SKETCH_16_R)
    extrude(amount=-CUT_EXTRUDE_13_DEPTH, mode=Mode.SUBTRACT)

    # 草图18 → 切除-拉伸14 (cut)
    with BuildSketch(Plane(origin=(0, 0, 0), x_dir=(0.75470958, -0.656059029, 0), z_dir=(0.656059029, 0.75470958, 0))):
        with Locations((-69.177168292, -200.735802704)):
            Circle(SKETCH_18_R)
        with Locations((-69.177168292, -49.264197296)):
            Circle(SKETCH_18_R)
    extrude(amount=-CUT_EXTRUDE_14_DEPTH, mode=Mode.SUBTRACT)

    # 草图19 → 切除-拉伸15 (cut)
    with BuildSketch(Plane.XY.offset(250)):
        Polygon((-256.697410121, 62.325607754), (-241.697410121, 62.325607754), (-230.362518633, 62.325607754), (-241.697410121, 49.286306687), align=None)
    extrude(amount=-CUT_EXTRUDE_15_DEPTH, mode=Mode.SUBTRACT)

    # 草图20 → 凸台-拉伸2 (add)
    with BuildSketch(Plane(origin=(-162.07092196, 140.886103045, 0), x_dir=(0, 0, 1), z_dir=(-0.75470958, 0.656059029, 0))):
        with Locations((125, -112.732298694)):
            Rectangle(SKETCH_20_W, SKETCH_20_H)
    extrude(amount=EXTRUDE_2_DEPTH)

    # 草图21 → 切除-拉伸17 (cut, two sides)
    with BuildSketch(Plane.XY.offset(250)) as cut_extrude_17_sk:
        with Locations((-78.60376969, 54.325607754)):
            Circle(SKETCH_21_R)
        with Locations((-220.362518633, 54.325607754)):
            Circle(SKETCH_21_R)
    extrude(amount=CUT_EXTRUDE_17_DEPTH, mode=Mode.SUBTRACT)
    extrude(cut_extrude_17_sk.sketch, amount=-CUT_EXTRUDE_17_DEPTH_BACK, mode=Mode.SUBTRACT)


solid = part.part
